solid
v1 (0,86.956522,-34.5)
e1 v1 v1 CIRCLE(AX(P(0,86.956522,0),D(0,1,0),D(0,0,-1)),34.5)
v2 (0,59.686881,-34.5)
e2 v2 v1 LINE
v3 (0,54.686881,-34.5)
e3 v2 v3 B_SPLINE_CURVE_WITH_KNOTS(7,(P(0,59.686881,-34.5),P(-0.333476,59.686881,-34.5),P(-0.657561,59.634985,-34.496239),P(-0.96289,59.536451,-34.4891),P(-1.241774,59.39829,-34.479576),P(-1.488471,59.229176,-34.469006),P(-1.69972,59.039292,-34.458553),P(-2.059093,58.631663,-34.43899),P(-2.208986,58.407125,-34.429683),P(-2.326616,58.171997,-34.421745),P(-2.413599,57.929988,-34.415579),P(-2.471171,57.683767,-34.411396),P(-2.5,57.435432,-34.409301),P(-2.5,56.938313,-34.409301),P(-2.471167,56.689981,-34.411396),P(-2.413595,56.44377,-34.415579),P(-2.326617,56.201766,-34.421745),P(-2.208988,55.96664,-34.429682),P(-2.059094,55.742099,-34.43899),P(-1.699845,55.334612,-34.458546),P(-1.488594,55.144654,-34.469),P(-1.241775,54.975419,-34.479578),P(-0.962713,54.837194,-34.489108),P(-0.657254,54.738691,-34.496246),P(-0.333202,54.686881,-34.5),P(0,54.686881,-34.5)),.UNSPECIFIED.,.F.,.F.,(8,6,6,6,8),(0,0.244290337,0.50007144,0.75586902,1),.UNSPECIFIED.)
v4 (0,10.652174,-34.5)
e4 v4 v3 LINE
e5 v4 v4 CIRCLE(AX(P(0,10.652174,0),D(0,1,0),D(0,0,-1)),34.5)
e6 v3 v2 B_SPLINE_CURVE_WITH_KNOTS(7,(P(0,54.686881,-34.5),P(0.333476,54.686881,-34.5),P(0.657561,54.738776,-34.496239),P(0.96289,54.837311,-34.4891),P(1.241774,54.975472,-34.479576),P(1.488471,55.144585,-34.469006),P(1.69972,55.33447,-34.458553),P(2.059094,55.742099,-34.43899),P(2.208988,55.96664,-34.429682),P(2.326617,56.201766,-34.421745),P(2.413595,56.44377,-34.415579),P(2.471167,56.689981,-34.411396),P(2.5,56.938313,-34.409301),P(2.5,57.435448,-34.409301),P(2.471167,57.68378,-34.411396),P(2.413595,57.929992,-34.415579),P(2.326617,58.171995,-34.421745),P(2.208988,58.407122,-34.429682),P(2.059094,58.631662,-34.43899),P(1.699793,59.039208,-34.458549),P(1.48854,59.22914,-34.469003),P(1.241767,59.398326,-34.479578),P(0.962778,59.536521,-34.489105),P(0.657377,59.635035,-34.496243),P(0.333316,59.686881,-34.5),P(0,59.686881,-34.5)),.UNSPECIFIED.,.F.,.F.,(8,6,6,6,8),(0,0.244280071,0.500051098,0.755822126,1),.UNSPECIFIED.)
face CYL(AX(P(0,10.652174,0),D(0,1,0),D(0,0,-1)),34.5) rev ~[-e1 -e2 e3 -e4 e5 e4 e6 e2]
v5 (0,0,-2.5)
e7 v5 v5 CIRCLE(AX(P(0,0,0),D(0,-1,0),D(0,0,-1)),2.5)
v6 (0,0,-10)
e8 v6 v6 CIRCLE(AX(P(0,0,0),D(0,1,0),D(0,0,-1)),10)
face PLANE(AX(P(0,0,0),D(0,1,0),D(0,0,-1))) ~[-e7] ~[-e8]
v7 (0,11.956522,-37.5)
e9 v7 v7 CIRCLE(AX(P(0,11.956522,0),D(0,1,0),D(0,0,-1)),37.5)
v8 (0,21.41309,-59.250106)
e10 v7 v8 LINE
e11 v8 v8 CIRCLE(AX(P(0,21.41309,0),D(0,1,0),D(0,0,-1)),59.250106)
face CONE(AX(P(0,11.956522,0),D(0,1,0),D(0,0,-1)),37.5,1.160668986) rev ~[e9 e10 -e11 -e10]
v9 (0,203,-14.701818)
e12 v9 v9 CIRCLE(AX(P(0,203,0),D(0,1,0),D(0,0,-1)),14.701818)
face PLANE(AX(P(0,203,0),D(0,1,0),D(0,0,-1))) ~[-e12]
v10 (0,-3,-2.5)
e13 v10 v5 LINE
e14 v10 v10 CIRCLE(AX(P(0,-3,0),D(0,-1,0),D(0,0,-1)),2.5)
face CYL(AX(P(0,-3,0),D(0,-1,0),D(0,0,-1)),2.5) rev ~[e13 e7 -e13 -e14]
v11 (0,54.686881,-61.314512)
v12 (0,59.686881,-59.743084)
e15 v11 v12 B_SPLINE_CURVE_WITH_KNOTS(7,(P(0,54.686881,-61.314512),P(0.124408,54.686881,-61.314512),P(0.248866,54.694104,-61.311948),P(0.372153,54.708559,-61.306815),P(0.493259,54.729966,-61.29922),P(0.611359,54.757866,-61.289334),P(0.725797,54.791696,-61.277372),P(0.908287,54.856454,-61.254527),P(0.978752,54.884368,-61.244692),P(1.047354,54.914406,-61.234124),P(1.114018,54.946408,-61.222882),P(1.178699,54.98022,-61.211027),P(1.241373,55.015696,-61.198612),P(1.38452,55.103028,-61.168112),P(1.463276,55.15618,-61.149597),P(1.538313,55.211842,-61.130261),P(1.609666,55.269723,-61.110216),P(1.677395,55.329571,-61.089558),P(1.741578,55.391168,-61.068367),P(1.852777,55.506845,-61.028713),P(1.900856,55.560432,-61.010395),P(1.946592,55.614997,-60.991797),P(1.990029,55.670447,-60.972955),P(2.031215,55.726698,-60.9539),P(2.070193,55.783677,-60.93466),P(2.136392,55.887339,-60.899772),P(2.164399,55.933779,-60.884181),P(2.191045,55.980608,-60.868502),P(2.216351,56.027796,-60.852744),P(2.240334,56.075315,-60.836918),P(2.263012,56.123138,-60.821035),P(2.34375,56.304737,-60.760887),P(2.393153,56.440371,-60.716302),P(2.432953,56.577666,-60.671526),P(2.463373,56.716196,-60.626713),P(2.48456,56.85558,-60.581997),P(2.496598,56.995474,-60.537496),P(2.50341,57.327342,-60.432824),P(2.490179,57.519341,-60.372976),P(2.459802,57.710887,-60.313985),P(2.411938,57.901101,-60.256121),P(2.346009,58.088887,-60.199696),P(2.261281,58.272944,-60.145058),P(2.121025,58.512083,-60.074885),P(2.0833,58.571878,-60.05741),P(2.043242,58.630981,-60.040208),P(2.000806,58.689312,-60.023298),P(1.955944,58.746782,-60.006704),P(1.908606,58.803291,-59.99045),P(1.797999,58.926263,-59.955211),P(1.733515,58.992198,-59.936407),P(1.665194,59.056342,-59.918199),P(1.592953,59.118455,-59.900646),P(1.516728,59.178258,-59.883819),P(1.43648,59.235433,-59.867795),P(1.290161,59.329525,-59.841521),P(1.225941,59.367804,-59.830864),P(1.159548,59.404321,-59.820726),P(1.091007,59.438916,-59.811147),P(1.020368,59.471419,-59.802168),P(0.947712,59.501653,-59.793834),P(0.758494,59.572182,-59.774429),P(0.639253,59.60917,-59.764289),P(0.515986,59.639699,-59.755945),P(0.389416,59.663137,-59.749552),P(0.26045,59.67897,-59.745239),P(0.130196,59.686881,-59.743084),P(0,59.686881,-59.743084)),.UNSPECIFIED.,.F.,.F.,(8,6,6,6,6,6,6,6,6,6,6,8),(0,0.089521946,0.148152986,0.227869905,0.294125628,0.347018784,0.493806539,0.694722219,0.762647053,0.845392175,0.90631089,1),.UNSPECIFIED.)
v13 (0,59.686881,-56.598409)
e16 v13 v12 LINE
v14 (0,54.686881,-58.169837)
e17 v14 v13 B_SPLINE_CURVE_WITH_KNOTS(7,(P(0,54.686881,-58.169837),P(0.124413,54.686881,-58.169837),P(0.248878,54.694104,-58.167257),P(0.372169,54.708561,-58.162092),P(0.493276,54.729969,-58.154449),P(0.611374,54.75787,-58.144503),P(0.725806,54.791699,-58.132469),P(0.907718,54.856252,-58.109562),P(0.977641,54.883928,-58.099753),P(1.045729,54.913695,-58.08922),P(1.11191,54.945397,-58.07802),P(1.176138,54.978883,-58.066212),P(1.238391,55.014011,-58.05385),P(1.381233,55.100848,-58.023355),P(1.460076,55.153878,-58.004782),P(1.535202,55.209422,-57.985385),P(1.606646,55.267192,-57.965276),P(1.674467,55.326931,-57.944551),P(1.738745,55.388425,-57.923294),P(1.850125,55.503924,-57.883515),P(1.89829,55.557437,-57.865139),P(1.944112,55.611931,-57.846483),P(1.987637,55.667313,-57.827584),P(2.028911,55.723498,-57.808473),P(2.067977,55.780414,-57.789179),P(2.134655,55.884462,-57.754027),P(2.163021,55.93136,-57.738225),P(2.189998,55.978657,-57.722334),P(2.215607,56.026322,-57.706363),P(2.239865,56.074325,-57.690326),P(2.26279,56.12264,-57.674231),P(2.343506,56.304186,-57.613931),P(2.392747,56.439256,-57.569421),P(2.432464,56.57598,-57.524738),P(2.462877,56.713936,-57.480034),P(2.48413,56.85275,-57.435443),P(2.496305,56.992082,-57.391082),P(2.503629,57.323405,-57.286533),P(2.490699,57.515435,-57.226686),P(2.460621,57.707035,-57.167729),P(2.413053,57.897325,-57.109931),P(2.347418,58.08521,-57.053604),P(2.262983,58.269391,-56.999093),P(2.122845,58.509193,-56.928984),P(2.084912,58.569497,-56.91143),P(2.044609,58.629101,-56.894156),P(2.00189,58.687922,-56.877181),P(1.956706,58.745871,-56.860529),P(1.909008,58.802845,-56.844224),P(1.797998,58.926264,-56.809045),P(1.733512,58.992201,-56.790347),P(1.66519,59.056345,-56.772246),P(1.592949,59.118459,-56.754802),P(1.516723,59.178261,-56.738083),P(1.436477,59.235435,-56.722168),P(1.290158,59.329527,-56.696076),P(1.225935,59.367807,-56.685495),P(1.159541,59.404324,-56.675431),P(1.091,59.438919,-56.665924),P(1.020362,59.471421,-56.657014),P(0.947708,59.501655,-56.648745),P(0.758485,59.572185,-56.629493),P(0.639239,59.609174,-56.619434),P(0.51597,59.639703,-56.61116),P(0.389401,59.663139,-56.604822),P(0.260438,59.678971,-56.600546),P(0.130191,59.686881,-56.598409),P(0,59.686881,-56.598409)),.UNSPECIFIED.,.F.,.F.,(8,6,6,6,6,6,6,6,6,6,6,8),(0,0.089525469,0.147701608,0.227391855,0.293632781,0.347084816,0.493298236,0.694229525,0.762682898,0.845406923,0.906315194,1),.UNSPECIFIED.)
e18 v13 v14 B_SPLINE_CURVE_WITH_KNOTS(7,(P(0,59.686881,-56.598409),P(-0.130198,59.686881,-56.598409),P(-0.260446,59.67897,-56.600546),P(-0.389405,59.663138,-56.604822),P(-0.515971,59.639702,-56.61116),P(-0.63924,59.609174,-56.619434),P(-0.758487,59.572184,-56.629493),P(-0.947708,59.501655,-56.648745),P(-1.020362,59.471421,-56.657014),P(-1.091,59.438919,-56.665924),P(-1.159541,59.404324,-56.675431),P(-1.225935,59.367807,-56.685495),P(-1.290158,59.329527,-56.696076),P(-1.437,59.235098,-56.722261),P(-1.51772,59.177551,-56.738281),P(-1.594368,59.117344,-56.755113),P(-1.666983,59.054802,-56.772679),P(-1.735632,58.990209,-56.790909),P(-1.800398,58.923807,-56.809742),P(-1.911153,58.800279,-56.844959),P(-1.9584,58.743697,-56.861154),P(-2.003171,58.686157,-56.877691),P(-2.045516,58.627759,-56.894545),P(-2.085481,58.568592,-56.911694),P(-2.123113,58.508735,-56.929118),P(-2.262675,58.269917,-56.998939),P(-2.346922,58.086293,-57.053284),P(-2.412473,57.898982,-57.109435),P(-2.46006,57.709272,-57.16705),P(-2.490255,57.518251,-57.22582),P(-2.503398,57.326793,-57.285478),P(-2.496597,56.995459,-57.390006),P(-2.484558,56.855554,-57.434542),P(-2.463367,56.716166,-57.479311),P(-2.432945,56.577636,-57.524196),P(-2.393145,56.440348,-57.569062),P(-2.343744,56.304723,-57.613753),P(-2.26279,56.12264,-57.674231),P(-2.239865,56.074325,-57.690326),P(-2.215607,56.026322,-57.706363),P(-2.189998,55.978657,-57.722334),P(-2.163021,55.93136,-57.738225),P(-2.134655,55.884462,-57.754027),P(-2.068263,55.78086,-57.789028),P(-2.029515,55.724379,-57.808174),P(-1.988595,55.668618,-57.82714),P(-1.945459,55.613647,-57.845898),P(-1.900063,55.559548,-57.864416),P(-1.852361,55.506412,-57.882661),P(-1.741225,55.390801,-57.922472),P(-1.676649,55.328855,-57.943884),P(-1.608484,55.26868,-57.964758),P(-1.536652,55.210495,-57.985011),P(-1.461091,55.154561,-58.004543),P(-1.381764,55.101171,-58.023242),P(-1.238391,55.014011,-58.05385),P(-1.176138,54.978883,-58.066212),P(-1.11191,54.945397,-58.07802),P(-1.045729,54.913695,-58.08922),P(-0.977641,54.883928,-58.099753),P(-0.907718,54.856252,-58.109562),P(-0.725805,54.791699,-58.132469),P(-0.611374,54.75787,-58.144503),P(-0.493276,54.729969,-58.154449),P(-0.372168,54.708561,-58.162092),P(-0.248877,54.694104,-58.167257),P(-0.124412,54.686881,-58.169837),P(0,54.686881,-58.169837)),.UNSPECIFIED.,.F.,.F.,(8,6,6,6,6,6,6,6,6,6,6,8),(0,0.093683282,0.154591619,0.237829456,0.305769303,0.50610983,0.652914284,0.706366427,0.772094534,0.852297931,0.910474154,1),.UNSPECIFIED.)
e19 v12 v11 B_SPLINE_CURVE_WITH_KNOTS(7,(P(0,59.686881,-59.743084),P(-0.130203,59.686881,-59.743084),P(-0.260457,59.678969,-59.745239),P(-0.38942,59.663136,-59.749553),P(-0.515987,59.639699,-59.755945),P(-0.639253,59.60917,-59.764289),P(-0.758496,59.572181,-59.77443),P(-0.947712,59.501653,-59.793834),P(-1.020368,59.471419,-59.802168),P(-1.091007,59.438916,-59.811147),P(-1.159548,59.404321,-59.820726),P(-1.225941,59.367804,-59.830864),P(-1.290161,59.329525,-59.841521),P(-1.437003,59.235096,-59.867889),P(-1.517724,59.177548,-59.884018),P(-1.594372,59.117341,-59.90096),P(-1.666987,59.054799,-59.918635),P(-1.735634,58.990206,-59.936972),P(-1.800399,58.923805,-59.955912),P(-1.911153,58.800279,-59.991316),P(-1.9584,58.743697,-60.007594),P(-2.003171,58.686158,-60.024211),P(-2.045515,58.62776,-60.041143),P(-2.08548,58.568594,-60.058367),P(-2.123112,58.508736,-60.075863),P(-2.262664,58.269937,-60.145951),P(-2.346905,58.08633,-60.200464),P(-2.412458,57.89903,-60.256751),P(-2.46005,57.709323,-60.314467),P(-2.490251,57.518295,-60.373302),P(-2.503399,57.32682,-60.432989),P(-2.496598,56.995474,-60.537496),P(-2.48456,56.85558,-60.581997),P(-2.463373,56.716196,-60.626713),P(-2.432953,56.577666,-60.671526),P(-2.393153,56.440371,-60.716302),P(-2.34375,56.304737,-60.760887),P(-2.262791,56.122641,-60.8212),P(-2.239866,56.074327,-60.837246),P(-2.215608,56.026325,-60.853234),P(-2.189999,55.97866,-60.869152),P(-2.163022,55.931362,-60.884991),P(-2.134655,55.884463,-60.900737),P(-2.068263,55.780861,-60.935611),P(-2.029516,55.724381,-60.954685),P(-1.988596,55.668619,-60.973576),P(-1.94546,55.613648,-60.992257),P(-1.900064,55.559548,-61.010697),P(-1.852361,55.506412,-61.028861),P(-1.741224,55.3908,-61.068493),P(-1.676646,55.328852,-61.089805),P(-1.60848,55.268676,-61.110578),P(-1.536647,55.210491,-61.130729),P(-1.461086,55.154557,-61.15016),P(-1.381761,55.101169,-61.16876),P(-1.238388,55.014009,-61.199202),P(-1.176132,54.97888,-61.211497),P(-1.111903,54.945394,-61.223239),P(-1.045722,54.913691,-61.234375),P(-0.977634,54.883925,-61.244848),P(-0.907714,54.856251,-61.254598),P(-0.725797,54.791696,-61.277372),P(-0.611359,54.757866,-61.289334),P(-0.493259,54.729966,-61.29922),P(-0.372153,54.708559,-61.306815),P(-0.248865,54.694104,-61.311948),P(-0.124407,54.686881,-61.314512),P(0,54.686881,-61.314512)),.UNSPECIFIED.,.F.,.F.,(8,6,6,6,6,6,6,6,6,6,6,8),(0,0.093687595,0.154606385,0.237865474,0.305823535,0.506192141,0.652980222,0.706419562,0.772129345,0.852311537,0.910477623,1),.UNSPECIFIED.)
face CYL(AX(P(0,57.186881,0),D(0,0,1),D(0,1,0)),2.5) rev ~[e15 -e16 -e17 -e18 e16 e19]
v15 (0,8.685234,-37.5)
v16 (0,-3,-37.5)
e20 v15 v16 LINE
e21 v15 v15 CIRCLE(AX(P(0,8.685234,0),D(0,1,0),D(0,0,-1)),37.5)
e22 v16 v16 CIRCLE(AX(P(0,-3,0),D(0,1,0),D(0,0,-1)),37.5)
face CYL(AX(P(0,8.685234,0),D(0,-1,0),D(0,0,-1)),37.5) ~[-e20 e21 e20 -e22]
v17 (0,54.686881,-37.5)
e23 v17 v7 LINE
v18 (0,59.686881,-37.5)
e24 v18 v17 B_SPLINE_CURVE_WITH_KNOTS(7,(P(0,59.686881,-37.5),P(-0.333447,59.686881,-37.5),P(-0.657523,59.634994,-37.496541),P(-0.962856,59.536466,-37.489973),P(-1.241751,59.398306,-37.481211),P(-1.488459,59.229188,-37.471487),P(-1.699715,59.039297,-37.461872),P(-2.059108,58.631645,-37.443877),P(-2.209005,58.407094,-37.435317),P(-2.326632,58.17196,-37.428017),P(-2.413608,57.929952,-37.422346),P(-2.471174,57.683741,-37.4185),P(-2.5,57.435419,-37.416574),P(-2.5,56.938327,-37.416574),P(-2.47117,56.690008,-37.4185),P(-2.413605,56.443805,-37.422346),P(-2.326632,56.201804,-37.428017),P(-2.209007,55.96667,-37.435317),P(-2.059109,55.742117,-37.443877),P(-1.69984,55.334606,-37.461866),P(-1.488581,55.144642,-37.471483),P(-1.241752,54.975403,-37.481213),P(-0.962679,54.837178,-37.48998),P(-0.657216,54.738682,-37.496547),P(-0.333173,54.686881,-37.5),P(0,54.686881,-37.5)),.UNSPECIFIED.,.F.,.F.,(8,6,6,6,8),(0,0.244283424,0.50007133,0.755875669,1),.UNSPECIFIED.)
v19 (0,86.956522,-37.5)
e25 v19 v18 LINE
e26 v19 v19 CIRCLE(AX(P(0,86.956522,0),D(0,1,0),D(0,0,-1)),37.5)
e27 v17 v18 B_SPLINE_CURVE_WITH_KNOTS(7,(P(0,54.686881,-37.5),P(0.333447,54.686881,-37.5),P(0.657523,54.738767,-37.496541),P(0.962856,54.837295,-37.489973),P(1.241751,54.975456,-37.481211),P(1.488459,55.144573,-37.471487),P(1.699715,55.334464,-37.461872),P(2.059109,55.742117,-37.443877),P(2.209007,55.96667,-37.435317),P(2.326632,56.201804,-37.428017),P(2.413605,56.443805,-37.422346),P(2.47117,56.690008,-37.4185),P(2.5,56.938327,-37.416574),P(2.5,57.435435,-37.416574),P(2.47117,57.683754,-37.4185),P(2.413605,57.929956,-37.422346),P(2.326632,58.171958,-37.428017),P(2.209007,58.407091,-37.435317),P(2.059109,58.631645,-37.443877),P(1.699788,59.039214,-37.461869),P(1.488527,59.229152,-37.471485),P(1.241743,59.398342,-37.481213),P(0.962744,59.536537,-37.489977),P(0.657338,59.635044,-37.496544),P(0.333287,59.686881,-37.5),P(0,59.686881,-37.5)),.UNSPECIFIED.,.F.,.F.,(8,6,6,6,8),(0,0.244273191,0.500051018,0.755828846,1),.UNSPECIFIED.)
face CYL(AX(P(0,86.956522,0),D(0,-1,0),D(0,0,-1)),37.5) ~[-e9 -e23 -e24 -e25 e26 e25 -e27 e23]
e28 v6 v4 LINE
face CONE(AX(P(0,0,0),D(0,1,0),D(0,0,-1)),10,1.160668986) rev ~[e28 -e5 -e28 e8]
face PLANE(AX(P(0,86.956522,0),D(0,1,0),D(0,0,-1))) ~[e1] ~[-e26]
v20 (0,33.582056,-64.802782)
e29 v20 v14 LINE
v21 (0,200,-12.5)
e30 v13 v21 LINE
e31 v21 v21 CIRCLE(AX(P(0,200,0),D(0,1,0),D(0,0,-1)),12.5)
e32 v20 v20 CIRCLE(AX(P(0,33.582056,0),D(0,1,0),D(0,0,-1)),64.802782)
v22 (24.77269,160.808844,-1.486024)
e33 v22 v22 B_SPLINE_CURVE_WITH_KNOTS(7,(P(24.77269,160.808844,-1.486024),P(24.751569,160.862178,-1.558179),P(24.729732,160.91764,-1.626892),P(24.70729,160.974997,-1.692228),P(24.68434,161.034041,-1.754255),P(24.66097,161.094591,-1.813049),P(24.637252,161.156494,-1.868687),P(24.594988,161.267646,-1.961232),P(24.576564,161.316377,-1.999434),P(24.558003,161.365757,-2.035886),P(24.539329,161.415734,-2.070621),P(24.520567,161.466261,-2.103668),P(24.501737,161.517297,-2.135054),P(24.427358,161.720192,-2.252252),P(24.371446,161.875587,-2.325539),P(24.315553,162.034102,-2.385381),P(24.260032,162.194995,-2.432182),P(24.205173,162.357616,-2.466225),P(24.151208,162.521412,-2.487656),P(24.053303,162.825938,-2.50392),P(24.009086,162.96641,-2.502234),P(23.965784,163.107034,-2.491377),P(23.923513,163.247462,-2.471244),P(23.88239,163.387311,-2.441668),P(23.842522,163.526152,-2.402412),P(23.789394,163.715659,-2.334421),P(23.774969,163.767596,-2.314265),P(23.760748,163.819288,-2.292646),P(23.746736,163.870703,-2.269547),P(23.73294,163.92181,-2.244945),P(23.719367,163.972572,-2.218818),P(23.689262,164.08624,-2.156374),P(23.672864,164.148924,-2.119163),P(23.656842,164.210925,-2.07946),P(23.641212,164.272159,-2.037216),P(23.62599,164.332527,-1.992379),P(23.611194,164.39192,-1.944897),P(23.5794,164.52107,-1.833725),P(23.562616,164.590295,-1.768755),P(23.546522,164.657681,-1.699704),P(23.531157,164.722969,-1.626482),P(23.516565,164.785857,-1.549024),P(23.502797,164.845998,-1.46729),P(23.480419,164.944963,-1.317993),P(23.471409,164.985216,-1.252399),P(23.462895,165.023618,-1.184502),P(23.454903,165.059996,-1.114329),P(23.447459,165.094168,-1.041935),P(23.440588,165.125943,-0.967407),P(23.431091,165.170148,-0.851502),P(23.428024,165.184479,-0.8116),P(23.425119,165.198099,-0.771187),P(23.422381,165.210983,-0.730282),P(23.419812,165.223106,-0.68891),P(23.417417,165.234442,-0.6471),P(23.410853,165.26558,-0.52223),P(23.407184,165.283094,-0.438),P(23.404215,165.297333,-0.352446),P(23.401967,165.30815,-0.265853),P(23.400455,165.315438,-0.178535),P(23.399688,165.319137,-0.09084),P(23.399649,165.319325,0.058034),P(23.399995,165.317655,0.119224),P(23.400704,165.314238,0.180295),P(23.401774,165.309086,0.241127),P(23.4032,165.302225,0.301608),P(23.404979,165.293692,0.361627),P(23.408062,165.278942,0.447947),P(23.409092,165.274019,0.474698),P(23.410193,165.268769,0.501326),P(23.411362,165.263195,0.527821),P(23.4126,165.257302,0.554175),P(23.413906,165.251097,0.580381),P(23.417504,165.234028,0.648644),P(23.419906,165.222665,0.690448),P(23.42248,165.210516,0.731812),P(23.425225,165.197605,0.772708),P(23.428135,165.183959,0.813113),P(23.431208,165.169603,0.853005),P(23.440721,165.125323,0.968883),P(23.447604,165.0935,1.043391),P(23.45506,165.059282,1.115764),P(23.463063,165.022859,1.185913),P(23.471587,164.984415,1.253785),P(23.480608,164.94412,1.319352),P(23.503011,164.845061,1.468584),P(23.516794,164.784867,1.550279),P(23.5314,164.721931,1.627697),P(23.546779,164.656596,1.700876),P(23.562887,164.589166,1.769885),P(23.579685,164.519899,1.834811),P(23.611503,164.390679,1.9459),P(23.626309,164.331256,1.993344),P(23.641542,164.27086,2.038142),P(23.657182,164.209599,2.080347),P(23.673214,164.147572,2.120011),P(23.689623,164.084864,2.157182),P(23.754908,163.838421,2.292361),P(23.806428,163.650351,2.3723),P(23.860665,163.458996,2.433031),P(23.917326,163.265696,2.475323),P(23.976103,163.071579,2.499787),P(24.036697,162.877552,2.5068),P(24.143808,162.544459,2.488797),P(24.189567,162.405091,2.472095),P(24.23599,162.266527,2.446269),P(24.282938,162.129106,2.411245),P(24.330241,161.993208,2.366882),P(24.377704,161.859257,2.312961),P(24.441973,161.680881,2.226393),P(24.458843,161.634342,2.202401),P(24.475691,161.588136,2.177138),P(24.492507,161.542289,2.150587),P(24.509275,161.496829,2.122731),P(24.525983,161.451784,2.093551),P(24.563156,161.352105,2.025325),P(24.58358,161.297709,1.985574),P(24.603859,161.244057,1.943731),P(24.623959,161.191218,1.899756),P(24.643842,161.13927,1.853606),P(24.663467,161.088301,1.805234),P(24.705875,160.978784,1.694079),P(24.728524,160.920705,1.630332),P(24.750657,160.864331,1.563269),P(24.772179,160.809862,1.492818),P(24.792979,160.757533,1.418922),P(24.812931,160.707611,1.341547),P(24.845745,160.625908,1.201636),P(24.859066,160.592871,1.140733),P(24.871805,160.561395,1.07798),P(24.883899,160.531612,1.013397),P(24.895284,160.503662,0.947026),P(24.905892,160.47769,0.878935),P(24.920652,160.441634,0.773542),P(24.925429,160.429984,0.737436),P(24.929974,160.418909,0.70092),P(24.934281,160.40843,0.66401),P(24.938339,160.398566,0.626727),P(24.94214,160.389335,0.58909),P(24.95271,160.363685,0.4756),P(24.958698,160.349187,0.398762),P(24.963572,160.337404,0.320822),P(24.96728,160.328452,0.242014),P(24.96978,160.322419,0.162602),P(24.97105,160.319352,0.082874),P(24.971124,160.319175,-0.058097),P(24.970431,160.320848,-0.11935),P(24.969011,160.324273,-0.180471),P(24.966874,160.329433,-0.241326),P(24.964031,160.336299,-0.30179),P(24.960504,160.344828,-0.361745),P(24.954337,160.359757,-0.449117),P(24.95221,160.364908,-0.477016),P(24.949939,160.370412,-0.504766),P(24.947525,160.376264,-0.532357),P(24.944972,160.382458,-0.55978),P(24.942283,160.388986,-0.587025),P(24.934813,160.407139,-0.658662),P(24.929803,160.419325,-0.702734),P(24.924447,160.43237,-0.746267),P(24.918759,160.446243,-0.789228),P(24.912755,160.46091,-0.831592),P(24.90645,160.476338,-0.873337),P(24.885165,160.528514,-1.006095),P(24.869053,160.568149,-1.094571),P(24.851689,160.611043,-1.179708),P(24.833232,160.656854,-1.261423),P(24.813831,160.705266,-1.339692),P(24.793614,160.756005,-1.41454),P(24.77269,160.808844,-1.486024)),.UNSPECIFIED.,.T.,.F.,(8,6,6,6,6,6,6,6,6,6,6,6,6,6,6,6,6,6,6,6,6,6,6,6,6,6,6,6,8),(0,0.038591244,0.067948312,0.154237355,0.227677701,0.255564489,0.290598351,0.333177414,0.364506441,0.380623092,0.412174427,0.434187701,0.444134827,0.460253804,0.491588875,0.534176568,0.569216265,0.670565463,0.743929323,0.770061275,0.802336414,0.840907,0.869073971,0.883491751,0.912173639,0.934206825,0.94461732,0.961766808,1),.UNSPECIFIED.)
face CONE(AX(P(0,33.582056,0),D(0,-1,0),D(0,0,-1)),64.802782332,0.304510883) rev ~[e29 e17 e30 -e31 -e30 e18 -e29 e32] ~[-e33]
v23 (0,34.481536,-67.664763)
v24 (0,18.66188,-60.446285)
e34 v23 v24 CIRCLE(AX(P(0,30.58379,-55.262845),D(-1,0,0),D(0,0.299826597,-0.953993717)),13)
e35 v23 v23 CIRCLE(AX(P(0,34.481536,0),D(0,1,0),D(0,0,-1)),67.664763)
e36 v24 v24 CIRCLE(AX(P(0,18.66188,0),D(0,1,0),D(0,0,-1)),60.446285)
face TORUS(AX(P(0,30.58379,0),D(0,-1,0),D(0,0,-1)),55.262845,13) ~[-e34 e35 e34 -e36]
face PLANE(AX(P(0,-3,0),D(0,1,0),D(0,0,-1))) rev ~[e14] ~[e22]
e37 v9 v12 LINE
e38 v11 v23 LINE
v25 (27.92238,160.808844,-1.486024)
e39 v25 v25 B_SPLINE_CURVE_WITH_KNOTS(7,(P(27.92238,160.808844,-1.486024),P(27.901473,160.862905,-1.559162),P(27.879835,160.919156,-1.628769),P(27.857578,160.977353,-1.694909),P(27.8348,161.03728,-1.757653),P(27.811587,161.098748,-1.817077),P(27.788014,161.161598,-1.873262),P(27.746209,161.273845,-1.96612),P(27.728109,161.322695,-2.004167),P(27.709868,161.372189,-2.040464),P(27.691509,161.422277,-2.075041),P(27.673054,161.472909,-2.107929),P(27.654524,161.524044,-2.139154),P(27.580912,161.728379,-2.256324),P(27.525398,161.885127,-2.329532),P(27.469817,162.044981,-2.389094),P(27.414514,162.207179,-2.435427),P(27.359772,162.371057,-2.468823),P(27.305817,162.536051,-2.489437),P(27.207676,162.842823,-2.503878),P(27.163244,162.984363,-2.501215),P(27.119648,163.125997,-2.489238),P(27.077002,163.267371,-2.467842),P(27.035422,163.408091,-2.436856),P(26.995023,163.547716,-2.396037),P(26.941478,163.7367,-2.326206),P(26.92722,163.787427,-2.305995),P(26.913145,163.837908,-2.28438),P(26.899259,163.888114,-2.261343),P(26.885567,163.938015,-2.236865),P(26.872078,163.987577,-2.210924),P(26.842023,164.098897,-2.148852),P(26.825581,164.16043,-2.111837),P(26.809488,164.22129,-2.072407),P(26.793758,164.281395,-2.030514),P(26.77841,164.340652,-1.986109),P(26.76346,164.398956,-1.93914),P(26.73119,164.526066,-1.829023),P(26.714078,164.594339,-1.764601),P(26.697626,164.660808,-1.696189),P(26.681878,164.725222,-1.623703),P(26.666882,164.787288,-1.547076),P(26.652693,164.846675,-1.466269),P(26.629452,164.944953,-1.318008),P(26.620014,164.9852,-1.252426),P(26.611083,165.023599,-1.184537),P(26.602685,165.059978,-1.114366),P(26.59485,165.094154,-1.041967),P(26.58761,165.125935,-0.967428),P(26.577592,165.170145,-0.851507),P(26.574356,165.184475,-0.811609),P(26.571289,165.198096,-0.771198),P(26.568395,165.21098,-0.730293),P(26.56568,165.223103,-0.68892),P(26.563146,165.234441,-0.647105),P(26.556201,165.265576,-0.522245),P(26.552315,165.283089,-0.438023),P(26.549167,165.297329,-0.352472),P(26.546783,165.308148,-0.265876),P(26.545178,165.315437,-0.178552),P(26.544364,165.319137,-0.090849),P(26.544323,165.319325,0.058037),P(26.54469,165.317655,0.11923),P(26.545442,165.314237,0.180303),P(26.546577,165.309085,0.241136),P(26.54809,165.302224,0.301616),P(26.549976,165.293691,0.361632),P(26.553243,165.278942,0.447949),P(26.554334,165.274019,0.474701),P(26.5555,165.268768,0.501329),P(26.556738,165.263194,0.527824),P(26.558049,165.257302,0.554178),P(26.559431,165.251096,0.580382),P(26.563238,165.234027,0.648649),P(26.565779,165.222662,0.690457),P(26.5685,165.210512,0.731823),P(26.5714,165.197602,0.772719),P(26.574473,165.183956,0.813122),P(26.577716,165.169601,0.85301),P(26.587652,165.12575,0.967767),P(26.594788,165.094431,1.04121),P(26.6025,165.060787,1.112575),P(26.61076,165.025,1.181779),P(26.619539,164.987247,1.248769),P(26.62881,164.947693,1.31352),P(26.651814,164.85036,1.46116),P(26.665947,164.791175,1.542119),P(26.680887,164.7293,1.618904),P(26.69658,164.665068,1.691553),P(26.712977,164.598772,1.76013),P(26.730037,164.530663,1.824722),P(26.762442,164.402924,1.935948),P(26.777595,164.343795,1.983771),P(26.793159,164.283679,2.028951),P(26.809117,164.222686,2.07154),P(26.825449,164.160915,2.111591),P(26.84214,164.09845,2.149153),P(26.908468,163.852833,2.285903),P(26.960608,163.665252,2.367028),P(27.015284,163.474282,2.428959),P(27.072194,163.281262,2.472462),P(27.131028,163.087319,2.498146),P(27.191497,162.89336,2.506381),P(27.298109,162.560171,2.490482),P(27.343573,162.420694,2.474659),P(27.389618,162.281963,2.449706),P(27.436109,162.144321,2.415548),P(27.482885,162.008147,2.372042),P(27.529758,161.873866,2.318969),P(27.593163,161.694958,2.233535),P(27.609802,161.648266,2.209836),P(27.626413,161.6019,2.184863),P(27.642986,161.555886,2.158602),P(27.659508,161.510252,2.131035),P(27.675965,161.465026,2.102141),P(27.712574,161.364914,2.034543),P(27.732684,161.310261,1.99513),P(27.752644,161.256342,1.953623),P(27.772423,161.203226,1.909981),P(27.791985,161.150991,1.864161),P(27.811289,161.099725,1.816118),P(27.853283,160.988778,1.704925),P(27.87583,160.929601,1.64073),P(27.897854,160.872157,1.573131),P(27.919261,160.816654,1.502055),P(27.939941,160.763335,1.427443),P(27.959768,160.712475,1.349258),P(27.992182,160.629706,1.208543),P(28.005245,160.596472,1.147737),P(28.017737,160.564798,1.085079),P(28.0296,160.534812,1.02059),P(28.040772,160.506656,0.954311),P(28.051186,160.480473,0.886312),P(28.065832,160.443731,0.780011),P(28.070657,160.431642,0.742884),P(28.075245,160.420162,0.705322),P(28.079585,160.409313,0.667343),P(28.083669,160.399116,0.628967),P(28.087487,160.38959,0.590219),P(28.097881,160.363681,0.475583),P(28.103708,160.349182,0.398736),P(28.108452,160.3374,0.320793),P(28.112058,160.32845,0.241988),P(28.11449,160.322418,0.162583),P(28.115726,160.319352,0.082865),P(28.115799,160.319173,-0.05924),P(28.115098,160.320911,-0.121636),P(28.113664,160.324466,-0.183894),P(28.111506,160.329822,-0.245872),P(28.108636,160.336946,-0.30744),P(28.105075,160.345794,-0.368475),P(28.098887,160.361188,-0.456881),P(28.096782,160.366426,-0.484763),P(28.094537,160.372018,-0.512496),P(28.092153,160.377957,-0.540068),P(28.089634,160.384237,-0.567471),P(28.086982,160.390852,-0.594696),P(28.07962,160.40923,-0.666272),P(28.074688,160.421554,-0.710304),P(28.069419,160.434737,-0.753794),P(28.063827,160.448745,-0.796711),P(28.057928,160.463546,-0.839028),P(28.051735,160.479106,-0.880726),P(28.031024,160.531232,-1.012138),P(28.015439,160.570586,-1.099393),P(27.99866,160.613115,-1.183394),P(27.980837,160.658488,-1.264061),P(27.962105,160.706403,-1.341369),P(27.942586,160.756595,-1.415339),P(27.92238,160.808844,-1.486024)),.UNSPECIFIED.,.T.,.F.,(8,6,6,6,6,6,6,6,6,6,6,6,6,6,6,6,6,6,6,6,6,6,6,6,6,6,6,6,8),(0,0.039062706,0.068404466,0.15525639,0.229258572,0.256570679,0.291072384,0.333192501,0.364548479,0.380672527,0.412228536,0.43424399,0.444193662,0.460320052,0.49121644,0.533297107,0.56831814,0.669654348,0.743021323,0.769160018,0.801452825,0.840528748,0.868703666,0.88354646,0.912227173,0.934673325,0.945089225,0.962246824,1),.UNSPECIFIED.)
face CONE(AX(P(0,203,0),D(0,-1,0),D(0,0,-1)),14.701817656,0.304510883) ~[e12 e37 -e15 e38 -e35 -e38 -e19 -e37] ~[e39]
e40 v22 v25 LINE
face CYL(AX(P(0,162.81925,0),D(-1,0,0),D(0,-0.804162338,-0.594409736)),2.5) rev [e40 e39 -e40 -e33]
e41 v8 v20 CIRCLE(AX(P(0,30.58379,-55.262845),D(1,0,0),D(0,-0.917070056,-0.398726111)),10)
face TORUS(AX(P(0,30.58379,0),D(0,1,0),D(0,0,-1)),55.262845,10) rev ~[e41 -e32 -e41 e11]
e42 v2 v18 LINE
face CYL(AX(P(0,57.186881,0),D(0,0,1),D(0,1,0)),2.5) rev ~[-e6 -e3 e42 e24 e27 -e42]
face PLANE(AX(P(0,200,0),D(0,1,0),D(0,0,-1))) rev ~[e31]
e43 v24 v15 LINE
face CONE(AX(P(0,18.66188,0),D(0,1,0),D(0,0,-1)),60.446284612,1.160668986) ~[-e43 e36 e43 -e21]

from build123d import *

# Parameters (mm, degrees)
CORTE_EXTRUS_O1_REACH = 208
ESBO_O2_R             = 2.5
ESBO_O4_R             = 2.5
CORTE_EXTRUS_O2_DEPTH = 50
ESBO_O5_R             = 2.5
CORTE_EXTRUS_O3_DEPTH = 110


with BuildPart() as part:
    # Esboço1 → Revolução1 (revolve)
    with BuildSketch(Plane.XY, mode=Mode.PRIVATE) as revolu_o1_sk:
        with BuildLine():
            Line((0, 0), (10, 0))
            Line((10, 0), (34.5, 10.652173913))
            Line((34.5, 10.652173913), (34.5, 86.956521739))
            Line((34.5, 86.956521739), (37.5, 86.956521739))
            Line((37.5, 86.956521739), (37.5, 11.956521739))
            Line((37.5, 11.956521739), (59.250106277, 21.413089686))
            ThreePointArc((59.250106277, 21.413089686), (64.360493758, 26.432550668), (64.802782332, 33.582056216))
            Line((64.802782332, 33.582056216), (12.5, 200))
            Line((12.5, 200), (0, 200))
            Line((0, 200), (0, 203))
            Line((0, 203), (14.701817656, 203))
            Line((14.701817656, 203), (67.664763483, 34.481536006))
            ThreePointArc((67.664763483, 34.481536006), (67.089788336, 25.187178794), (60.446284612, 18.661879517))
            Line((60.446284612, 18.661879517), (37.5, 8.685234034))
            Line((37.5, 8.685234034), (37.5, -3))
            Line((37.5, -3), (10.623961722, -3))
            Line((10.623961722, -3), (0, -3))
            Line((0, -3), (0, 0))
        make_face()
    revolve(revolu_o1_sk.sketch.rotate(Axis((0, 0, 0), (0, 1, 0)), 90), axis=Axis((0, 0, 0), (0, 1, 0)))  # turned: the seam where the file's is

    # Esboço2 → Corte-extrusão1 (cut, up to next)
    with BuildSketch(Plane.XZ.offset(3), mode=Mode.PRIVATE) as corte_extrus_o1_sk1:
        with Locations(Location((0, 0, 0), (0, 0, 270))):  # turned: the seam where the file's is
            Circle(ESBO_O2_R)
    corte_extrus_o1_tool1 = extrude(corte_extrus_o1_sk1.sketch, amount=-CORTE_EXTRUS_O1_REACH, mode=Mode.PRIVATE) & part.part
    add(corte_extrus_o1_tool1.solids().sort_by_distance((0, -3, 0))[0], mode=Mode.SUBTRACT)

    # Esboço4 → Corte-extrusão2 (cut)
    with BuildSketch(Plane(origin=(0, 0, 0), x_dir=(0, 0, -1), z_dir=(1, 0, 0))):
        with Locations(Location((0, 162.819249831, 0), (0, 0, 306.470564915))):  # turned: the seam where the file's is
            Circle(ESBO_O4_R)
    extrude(amount=CORTE_EXTRUS_O2_DEPTH, mode=Mode.SUBTRACT)

    # Esboço5 → Corte-extrusão3 (cut)
    with BuildSketch(Plane.XY):
        with Locations(Location((0, 57.186880689, 0), (0, 0, 90))):  # turned: the seam where the file's is
            Circle(ESBO_O5_R)
    extrude(amount=-CORTE_EXTRUS_O3_DEPTH, mode=Mode.SUBTRACT)


solid = part.part
